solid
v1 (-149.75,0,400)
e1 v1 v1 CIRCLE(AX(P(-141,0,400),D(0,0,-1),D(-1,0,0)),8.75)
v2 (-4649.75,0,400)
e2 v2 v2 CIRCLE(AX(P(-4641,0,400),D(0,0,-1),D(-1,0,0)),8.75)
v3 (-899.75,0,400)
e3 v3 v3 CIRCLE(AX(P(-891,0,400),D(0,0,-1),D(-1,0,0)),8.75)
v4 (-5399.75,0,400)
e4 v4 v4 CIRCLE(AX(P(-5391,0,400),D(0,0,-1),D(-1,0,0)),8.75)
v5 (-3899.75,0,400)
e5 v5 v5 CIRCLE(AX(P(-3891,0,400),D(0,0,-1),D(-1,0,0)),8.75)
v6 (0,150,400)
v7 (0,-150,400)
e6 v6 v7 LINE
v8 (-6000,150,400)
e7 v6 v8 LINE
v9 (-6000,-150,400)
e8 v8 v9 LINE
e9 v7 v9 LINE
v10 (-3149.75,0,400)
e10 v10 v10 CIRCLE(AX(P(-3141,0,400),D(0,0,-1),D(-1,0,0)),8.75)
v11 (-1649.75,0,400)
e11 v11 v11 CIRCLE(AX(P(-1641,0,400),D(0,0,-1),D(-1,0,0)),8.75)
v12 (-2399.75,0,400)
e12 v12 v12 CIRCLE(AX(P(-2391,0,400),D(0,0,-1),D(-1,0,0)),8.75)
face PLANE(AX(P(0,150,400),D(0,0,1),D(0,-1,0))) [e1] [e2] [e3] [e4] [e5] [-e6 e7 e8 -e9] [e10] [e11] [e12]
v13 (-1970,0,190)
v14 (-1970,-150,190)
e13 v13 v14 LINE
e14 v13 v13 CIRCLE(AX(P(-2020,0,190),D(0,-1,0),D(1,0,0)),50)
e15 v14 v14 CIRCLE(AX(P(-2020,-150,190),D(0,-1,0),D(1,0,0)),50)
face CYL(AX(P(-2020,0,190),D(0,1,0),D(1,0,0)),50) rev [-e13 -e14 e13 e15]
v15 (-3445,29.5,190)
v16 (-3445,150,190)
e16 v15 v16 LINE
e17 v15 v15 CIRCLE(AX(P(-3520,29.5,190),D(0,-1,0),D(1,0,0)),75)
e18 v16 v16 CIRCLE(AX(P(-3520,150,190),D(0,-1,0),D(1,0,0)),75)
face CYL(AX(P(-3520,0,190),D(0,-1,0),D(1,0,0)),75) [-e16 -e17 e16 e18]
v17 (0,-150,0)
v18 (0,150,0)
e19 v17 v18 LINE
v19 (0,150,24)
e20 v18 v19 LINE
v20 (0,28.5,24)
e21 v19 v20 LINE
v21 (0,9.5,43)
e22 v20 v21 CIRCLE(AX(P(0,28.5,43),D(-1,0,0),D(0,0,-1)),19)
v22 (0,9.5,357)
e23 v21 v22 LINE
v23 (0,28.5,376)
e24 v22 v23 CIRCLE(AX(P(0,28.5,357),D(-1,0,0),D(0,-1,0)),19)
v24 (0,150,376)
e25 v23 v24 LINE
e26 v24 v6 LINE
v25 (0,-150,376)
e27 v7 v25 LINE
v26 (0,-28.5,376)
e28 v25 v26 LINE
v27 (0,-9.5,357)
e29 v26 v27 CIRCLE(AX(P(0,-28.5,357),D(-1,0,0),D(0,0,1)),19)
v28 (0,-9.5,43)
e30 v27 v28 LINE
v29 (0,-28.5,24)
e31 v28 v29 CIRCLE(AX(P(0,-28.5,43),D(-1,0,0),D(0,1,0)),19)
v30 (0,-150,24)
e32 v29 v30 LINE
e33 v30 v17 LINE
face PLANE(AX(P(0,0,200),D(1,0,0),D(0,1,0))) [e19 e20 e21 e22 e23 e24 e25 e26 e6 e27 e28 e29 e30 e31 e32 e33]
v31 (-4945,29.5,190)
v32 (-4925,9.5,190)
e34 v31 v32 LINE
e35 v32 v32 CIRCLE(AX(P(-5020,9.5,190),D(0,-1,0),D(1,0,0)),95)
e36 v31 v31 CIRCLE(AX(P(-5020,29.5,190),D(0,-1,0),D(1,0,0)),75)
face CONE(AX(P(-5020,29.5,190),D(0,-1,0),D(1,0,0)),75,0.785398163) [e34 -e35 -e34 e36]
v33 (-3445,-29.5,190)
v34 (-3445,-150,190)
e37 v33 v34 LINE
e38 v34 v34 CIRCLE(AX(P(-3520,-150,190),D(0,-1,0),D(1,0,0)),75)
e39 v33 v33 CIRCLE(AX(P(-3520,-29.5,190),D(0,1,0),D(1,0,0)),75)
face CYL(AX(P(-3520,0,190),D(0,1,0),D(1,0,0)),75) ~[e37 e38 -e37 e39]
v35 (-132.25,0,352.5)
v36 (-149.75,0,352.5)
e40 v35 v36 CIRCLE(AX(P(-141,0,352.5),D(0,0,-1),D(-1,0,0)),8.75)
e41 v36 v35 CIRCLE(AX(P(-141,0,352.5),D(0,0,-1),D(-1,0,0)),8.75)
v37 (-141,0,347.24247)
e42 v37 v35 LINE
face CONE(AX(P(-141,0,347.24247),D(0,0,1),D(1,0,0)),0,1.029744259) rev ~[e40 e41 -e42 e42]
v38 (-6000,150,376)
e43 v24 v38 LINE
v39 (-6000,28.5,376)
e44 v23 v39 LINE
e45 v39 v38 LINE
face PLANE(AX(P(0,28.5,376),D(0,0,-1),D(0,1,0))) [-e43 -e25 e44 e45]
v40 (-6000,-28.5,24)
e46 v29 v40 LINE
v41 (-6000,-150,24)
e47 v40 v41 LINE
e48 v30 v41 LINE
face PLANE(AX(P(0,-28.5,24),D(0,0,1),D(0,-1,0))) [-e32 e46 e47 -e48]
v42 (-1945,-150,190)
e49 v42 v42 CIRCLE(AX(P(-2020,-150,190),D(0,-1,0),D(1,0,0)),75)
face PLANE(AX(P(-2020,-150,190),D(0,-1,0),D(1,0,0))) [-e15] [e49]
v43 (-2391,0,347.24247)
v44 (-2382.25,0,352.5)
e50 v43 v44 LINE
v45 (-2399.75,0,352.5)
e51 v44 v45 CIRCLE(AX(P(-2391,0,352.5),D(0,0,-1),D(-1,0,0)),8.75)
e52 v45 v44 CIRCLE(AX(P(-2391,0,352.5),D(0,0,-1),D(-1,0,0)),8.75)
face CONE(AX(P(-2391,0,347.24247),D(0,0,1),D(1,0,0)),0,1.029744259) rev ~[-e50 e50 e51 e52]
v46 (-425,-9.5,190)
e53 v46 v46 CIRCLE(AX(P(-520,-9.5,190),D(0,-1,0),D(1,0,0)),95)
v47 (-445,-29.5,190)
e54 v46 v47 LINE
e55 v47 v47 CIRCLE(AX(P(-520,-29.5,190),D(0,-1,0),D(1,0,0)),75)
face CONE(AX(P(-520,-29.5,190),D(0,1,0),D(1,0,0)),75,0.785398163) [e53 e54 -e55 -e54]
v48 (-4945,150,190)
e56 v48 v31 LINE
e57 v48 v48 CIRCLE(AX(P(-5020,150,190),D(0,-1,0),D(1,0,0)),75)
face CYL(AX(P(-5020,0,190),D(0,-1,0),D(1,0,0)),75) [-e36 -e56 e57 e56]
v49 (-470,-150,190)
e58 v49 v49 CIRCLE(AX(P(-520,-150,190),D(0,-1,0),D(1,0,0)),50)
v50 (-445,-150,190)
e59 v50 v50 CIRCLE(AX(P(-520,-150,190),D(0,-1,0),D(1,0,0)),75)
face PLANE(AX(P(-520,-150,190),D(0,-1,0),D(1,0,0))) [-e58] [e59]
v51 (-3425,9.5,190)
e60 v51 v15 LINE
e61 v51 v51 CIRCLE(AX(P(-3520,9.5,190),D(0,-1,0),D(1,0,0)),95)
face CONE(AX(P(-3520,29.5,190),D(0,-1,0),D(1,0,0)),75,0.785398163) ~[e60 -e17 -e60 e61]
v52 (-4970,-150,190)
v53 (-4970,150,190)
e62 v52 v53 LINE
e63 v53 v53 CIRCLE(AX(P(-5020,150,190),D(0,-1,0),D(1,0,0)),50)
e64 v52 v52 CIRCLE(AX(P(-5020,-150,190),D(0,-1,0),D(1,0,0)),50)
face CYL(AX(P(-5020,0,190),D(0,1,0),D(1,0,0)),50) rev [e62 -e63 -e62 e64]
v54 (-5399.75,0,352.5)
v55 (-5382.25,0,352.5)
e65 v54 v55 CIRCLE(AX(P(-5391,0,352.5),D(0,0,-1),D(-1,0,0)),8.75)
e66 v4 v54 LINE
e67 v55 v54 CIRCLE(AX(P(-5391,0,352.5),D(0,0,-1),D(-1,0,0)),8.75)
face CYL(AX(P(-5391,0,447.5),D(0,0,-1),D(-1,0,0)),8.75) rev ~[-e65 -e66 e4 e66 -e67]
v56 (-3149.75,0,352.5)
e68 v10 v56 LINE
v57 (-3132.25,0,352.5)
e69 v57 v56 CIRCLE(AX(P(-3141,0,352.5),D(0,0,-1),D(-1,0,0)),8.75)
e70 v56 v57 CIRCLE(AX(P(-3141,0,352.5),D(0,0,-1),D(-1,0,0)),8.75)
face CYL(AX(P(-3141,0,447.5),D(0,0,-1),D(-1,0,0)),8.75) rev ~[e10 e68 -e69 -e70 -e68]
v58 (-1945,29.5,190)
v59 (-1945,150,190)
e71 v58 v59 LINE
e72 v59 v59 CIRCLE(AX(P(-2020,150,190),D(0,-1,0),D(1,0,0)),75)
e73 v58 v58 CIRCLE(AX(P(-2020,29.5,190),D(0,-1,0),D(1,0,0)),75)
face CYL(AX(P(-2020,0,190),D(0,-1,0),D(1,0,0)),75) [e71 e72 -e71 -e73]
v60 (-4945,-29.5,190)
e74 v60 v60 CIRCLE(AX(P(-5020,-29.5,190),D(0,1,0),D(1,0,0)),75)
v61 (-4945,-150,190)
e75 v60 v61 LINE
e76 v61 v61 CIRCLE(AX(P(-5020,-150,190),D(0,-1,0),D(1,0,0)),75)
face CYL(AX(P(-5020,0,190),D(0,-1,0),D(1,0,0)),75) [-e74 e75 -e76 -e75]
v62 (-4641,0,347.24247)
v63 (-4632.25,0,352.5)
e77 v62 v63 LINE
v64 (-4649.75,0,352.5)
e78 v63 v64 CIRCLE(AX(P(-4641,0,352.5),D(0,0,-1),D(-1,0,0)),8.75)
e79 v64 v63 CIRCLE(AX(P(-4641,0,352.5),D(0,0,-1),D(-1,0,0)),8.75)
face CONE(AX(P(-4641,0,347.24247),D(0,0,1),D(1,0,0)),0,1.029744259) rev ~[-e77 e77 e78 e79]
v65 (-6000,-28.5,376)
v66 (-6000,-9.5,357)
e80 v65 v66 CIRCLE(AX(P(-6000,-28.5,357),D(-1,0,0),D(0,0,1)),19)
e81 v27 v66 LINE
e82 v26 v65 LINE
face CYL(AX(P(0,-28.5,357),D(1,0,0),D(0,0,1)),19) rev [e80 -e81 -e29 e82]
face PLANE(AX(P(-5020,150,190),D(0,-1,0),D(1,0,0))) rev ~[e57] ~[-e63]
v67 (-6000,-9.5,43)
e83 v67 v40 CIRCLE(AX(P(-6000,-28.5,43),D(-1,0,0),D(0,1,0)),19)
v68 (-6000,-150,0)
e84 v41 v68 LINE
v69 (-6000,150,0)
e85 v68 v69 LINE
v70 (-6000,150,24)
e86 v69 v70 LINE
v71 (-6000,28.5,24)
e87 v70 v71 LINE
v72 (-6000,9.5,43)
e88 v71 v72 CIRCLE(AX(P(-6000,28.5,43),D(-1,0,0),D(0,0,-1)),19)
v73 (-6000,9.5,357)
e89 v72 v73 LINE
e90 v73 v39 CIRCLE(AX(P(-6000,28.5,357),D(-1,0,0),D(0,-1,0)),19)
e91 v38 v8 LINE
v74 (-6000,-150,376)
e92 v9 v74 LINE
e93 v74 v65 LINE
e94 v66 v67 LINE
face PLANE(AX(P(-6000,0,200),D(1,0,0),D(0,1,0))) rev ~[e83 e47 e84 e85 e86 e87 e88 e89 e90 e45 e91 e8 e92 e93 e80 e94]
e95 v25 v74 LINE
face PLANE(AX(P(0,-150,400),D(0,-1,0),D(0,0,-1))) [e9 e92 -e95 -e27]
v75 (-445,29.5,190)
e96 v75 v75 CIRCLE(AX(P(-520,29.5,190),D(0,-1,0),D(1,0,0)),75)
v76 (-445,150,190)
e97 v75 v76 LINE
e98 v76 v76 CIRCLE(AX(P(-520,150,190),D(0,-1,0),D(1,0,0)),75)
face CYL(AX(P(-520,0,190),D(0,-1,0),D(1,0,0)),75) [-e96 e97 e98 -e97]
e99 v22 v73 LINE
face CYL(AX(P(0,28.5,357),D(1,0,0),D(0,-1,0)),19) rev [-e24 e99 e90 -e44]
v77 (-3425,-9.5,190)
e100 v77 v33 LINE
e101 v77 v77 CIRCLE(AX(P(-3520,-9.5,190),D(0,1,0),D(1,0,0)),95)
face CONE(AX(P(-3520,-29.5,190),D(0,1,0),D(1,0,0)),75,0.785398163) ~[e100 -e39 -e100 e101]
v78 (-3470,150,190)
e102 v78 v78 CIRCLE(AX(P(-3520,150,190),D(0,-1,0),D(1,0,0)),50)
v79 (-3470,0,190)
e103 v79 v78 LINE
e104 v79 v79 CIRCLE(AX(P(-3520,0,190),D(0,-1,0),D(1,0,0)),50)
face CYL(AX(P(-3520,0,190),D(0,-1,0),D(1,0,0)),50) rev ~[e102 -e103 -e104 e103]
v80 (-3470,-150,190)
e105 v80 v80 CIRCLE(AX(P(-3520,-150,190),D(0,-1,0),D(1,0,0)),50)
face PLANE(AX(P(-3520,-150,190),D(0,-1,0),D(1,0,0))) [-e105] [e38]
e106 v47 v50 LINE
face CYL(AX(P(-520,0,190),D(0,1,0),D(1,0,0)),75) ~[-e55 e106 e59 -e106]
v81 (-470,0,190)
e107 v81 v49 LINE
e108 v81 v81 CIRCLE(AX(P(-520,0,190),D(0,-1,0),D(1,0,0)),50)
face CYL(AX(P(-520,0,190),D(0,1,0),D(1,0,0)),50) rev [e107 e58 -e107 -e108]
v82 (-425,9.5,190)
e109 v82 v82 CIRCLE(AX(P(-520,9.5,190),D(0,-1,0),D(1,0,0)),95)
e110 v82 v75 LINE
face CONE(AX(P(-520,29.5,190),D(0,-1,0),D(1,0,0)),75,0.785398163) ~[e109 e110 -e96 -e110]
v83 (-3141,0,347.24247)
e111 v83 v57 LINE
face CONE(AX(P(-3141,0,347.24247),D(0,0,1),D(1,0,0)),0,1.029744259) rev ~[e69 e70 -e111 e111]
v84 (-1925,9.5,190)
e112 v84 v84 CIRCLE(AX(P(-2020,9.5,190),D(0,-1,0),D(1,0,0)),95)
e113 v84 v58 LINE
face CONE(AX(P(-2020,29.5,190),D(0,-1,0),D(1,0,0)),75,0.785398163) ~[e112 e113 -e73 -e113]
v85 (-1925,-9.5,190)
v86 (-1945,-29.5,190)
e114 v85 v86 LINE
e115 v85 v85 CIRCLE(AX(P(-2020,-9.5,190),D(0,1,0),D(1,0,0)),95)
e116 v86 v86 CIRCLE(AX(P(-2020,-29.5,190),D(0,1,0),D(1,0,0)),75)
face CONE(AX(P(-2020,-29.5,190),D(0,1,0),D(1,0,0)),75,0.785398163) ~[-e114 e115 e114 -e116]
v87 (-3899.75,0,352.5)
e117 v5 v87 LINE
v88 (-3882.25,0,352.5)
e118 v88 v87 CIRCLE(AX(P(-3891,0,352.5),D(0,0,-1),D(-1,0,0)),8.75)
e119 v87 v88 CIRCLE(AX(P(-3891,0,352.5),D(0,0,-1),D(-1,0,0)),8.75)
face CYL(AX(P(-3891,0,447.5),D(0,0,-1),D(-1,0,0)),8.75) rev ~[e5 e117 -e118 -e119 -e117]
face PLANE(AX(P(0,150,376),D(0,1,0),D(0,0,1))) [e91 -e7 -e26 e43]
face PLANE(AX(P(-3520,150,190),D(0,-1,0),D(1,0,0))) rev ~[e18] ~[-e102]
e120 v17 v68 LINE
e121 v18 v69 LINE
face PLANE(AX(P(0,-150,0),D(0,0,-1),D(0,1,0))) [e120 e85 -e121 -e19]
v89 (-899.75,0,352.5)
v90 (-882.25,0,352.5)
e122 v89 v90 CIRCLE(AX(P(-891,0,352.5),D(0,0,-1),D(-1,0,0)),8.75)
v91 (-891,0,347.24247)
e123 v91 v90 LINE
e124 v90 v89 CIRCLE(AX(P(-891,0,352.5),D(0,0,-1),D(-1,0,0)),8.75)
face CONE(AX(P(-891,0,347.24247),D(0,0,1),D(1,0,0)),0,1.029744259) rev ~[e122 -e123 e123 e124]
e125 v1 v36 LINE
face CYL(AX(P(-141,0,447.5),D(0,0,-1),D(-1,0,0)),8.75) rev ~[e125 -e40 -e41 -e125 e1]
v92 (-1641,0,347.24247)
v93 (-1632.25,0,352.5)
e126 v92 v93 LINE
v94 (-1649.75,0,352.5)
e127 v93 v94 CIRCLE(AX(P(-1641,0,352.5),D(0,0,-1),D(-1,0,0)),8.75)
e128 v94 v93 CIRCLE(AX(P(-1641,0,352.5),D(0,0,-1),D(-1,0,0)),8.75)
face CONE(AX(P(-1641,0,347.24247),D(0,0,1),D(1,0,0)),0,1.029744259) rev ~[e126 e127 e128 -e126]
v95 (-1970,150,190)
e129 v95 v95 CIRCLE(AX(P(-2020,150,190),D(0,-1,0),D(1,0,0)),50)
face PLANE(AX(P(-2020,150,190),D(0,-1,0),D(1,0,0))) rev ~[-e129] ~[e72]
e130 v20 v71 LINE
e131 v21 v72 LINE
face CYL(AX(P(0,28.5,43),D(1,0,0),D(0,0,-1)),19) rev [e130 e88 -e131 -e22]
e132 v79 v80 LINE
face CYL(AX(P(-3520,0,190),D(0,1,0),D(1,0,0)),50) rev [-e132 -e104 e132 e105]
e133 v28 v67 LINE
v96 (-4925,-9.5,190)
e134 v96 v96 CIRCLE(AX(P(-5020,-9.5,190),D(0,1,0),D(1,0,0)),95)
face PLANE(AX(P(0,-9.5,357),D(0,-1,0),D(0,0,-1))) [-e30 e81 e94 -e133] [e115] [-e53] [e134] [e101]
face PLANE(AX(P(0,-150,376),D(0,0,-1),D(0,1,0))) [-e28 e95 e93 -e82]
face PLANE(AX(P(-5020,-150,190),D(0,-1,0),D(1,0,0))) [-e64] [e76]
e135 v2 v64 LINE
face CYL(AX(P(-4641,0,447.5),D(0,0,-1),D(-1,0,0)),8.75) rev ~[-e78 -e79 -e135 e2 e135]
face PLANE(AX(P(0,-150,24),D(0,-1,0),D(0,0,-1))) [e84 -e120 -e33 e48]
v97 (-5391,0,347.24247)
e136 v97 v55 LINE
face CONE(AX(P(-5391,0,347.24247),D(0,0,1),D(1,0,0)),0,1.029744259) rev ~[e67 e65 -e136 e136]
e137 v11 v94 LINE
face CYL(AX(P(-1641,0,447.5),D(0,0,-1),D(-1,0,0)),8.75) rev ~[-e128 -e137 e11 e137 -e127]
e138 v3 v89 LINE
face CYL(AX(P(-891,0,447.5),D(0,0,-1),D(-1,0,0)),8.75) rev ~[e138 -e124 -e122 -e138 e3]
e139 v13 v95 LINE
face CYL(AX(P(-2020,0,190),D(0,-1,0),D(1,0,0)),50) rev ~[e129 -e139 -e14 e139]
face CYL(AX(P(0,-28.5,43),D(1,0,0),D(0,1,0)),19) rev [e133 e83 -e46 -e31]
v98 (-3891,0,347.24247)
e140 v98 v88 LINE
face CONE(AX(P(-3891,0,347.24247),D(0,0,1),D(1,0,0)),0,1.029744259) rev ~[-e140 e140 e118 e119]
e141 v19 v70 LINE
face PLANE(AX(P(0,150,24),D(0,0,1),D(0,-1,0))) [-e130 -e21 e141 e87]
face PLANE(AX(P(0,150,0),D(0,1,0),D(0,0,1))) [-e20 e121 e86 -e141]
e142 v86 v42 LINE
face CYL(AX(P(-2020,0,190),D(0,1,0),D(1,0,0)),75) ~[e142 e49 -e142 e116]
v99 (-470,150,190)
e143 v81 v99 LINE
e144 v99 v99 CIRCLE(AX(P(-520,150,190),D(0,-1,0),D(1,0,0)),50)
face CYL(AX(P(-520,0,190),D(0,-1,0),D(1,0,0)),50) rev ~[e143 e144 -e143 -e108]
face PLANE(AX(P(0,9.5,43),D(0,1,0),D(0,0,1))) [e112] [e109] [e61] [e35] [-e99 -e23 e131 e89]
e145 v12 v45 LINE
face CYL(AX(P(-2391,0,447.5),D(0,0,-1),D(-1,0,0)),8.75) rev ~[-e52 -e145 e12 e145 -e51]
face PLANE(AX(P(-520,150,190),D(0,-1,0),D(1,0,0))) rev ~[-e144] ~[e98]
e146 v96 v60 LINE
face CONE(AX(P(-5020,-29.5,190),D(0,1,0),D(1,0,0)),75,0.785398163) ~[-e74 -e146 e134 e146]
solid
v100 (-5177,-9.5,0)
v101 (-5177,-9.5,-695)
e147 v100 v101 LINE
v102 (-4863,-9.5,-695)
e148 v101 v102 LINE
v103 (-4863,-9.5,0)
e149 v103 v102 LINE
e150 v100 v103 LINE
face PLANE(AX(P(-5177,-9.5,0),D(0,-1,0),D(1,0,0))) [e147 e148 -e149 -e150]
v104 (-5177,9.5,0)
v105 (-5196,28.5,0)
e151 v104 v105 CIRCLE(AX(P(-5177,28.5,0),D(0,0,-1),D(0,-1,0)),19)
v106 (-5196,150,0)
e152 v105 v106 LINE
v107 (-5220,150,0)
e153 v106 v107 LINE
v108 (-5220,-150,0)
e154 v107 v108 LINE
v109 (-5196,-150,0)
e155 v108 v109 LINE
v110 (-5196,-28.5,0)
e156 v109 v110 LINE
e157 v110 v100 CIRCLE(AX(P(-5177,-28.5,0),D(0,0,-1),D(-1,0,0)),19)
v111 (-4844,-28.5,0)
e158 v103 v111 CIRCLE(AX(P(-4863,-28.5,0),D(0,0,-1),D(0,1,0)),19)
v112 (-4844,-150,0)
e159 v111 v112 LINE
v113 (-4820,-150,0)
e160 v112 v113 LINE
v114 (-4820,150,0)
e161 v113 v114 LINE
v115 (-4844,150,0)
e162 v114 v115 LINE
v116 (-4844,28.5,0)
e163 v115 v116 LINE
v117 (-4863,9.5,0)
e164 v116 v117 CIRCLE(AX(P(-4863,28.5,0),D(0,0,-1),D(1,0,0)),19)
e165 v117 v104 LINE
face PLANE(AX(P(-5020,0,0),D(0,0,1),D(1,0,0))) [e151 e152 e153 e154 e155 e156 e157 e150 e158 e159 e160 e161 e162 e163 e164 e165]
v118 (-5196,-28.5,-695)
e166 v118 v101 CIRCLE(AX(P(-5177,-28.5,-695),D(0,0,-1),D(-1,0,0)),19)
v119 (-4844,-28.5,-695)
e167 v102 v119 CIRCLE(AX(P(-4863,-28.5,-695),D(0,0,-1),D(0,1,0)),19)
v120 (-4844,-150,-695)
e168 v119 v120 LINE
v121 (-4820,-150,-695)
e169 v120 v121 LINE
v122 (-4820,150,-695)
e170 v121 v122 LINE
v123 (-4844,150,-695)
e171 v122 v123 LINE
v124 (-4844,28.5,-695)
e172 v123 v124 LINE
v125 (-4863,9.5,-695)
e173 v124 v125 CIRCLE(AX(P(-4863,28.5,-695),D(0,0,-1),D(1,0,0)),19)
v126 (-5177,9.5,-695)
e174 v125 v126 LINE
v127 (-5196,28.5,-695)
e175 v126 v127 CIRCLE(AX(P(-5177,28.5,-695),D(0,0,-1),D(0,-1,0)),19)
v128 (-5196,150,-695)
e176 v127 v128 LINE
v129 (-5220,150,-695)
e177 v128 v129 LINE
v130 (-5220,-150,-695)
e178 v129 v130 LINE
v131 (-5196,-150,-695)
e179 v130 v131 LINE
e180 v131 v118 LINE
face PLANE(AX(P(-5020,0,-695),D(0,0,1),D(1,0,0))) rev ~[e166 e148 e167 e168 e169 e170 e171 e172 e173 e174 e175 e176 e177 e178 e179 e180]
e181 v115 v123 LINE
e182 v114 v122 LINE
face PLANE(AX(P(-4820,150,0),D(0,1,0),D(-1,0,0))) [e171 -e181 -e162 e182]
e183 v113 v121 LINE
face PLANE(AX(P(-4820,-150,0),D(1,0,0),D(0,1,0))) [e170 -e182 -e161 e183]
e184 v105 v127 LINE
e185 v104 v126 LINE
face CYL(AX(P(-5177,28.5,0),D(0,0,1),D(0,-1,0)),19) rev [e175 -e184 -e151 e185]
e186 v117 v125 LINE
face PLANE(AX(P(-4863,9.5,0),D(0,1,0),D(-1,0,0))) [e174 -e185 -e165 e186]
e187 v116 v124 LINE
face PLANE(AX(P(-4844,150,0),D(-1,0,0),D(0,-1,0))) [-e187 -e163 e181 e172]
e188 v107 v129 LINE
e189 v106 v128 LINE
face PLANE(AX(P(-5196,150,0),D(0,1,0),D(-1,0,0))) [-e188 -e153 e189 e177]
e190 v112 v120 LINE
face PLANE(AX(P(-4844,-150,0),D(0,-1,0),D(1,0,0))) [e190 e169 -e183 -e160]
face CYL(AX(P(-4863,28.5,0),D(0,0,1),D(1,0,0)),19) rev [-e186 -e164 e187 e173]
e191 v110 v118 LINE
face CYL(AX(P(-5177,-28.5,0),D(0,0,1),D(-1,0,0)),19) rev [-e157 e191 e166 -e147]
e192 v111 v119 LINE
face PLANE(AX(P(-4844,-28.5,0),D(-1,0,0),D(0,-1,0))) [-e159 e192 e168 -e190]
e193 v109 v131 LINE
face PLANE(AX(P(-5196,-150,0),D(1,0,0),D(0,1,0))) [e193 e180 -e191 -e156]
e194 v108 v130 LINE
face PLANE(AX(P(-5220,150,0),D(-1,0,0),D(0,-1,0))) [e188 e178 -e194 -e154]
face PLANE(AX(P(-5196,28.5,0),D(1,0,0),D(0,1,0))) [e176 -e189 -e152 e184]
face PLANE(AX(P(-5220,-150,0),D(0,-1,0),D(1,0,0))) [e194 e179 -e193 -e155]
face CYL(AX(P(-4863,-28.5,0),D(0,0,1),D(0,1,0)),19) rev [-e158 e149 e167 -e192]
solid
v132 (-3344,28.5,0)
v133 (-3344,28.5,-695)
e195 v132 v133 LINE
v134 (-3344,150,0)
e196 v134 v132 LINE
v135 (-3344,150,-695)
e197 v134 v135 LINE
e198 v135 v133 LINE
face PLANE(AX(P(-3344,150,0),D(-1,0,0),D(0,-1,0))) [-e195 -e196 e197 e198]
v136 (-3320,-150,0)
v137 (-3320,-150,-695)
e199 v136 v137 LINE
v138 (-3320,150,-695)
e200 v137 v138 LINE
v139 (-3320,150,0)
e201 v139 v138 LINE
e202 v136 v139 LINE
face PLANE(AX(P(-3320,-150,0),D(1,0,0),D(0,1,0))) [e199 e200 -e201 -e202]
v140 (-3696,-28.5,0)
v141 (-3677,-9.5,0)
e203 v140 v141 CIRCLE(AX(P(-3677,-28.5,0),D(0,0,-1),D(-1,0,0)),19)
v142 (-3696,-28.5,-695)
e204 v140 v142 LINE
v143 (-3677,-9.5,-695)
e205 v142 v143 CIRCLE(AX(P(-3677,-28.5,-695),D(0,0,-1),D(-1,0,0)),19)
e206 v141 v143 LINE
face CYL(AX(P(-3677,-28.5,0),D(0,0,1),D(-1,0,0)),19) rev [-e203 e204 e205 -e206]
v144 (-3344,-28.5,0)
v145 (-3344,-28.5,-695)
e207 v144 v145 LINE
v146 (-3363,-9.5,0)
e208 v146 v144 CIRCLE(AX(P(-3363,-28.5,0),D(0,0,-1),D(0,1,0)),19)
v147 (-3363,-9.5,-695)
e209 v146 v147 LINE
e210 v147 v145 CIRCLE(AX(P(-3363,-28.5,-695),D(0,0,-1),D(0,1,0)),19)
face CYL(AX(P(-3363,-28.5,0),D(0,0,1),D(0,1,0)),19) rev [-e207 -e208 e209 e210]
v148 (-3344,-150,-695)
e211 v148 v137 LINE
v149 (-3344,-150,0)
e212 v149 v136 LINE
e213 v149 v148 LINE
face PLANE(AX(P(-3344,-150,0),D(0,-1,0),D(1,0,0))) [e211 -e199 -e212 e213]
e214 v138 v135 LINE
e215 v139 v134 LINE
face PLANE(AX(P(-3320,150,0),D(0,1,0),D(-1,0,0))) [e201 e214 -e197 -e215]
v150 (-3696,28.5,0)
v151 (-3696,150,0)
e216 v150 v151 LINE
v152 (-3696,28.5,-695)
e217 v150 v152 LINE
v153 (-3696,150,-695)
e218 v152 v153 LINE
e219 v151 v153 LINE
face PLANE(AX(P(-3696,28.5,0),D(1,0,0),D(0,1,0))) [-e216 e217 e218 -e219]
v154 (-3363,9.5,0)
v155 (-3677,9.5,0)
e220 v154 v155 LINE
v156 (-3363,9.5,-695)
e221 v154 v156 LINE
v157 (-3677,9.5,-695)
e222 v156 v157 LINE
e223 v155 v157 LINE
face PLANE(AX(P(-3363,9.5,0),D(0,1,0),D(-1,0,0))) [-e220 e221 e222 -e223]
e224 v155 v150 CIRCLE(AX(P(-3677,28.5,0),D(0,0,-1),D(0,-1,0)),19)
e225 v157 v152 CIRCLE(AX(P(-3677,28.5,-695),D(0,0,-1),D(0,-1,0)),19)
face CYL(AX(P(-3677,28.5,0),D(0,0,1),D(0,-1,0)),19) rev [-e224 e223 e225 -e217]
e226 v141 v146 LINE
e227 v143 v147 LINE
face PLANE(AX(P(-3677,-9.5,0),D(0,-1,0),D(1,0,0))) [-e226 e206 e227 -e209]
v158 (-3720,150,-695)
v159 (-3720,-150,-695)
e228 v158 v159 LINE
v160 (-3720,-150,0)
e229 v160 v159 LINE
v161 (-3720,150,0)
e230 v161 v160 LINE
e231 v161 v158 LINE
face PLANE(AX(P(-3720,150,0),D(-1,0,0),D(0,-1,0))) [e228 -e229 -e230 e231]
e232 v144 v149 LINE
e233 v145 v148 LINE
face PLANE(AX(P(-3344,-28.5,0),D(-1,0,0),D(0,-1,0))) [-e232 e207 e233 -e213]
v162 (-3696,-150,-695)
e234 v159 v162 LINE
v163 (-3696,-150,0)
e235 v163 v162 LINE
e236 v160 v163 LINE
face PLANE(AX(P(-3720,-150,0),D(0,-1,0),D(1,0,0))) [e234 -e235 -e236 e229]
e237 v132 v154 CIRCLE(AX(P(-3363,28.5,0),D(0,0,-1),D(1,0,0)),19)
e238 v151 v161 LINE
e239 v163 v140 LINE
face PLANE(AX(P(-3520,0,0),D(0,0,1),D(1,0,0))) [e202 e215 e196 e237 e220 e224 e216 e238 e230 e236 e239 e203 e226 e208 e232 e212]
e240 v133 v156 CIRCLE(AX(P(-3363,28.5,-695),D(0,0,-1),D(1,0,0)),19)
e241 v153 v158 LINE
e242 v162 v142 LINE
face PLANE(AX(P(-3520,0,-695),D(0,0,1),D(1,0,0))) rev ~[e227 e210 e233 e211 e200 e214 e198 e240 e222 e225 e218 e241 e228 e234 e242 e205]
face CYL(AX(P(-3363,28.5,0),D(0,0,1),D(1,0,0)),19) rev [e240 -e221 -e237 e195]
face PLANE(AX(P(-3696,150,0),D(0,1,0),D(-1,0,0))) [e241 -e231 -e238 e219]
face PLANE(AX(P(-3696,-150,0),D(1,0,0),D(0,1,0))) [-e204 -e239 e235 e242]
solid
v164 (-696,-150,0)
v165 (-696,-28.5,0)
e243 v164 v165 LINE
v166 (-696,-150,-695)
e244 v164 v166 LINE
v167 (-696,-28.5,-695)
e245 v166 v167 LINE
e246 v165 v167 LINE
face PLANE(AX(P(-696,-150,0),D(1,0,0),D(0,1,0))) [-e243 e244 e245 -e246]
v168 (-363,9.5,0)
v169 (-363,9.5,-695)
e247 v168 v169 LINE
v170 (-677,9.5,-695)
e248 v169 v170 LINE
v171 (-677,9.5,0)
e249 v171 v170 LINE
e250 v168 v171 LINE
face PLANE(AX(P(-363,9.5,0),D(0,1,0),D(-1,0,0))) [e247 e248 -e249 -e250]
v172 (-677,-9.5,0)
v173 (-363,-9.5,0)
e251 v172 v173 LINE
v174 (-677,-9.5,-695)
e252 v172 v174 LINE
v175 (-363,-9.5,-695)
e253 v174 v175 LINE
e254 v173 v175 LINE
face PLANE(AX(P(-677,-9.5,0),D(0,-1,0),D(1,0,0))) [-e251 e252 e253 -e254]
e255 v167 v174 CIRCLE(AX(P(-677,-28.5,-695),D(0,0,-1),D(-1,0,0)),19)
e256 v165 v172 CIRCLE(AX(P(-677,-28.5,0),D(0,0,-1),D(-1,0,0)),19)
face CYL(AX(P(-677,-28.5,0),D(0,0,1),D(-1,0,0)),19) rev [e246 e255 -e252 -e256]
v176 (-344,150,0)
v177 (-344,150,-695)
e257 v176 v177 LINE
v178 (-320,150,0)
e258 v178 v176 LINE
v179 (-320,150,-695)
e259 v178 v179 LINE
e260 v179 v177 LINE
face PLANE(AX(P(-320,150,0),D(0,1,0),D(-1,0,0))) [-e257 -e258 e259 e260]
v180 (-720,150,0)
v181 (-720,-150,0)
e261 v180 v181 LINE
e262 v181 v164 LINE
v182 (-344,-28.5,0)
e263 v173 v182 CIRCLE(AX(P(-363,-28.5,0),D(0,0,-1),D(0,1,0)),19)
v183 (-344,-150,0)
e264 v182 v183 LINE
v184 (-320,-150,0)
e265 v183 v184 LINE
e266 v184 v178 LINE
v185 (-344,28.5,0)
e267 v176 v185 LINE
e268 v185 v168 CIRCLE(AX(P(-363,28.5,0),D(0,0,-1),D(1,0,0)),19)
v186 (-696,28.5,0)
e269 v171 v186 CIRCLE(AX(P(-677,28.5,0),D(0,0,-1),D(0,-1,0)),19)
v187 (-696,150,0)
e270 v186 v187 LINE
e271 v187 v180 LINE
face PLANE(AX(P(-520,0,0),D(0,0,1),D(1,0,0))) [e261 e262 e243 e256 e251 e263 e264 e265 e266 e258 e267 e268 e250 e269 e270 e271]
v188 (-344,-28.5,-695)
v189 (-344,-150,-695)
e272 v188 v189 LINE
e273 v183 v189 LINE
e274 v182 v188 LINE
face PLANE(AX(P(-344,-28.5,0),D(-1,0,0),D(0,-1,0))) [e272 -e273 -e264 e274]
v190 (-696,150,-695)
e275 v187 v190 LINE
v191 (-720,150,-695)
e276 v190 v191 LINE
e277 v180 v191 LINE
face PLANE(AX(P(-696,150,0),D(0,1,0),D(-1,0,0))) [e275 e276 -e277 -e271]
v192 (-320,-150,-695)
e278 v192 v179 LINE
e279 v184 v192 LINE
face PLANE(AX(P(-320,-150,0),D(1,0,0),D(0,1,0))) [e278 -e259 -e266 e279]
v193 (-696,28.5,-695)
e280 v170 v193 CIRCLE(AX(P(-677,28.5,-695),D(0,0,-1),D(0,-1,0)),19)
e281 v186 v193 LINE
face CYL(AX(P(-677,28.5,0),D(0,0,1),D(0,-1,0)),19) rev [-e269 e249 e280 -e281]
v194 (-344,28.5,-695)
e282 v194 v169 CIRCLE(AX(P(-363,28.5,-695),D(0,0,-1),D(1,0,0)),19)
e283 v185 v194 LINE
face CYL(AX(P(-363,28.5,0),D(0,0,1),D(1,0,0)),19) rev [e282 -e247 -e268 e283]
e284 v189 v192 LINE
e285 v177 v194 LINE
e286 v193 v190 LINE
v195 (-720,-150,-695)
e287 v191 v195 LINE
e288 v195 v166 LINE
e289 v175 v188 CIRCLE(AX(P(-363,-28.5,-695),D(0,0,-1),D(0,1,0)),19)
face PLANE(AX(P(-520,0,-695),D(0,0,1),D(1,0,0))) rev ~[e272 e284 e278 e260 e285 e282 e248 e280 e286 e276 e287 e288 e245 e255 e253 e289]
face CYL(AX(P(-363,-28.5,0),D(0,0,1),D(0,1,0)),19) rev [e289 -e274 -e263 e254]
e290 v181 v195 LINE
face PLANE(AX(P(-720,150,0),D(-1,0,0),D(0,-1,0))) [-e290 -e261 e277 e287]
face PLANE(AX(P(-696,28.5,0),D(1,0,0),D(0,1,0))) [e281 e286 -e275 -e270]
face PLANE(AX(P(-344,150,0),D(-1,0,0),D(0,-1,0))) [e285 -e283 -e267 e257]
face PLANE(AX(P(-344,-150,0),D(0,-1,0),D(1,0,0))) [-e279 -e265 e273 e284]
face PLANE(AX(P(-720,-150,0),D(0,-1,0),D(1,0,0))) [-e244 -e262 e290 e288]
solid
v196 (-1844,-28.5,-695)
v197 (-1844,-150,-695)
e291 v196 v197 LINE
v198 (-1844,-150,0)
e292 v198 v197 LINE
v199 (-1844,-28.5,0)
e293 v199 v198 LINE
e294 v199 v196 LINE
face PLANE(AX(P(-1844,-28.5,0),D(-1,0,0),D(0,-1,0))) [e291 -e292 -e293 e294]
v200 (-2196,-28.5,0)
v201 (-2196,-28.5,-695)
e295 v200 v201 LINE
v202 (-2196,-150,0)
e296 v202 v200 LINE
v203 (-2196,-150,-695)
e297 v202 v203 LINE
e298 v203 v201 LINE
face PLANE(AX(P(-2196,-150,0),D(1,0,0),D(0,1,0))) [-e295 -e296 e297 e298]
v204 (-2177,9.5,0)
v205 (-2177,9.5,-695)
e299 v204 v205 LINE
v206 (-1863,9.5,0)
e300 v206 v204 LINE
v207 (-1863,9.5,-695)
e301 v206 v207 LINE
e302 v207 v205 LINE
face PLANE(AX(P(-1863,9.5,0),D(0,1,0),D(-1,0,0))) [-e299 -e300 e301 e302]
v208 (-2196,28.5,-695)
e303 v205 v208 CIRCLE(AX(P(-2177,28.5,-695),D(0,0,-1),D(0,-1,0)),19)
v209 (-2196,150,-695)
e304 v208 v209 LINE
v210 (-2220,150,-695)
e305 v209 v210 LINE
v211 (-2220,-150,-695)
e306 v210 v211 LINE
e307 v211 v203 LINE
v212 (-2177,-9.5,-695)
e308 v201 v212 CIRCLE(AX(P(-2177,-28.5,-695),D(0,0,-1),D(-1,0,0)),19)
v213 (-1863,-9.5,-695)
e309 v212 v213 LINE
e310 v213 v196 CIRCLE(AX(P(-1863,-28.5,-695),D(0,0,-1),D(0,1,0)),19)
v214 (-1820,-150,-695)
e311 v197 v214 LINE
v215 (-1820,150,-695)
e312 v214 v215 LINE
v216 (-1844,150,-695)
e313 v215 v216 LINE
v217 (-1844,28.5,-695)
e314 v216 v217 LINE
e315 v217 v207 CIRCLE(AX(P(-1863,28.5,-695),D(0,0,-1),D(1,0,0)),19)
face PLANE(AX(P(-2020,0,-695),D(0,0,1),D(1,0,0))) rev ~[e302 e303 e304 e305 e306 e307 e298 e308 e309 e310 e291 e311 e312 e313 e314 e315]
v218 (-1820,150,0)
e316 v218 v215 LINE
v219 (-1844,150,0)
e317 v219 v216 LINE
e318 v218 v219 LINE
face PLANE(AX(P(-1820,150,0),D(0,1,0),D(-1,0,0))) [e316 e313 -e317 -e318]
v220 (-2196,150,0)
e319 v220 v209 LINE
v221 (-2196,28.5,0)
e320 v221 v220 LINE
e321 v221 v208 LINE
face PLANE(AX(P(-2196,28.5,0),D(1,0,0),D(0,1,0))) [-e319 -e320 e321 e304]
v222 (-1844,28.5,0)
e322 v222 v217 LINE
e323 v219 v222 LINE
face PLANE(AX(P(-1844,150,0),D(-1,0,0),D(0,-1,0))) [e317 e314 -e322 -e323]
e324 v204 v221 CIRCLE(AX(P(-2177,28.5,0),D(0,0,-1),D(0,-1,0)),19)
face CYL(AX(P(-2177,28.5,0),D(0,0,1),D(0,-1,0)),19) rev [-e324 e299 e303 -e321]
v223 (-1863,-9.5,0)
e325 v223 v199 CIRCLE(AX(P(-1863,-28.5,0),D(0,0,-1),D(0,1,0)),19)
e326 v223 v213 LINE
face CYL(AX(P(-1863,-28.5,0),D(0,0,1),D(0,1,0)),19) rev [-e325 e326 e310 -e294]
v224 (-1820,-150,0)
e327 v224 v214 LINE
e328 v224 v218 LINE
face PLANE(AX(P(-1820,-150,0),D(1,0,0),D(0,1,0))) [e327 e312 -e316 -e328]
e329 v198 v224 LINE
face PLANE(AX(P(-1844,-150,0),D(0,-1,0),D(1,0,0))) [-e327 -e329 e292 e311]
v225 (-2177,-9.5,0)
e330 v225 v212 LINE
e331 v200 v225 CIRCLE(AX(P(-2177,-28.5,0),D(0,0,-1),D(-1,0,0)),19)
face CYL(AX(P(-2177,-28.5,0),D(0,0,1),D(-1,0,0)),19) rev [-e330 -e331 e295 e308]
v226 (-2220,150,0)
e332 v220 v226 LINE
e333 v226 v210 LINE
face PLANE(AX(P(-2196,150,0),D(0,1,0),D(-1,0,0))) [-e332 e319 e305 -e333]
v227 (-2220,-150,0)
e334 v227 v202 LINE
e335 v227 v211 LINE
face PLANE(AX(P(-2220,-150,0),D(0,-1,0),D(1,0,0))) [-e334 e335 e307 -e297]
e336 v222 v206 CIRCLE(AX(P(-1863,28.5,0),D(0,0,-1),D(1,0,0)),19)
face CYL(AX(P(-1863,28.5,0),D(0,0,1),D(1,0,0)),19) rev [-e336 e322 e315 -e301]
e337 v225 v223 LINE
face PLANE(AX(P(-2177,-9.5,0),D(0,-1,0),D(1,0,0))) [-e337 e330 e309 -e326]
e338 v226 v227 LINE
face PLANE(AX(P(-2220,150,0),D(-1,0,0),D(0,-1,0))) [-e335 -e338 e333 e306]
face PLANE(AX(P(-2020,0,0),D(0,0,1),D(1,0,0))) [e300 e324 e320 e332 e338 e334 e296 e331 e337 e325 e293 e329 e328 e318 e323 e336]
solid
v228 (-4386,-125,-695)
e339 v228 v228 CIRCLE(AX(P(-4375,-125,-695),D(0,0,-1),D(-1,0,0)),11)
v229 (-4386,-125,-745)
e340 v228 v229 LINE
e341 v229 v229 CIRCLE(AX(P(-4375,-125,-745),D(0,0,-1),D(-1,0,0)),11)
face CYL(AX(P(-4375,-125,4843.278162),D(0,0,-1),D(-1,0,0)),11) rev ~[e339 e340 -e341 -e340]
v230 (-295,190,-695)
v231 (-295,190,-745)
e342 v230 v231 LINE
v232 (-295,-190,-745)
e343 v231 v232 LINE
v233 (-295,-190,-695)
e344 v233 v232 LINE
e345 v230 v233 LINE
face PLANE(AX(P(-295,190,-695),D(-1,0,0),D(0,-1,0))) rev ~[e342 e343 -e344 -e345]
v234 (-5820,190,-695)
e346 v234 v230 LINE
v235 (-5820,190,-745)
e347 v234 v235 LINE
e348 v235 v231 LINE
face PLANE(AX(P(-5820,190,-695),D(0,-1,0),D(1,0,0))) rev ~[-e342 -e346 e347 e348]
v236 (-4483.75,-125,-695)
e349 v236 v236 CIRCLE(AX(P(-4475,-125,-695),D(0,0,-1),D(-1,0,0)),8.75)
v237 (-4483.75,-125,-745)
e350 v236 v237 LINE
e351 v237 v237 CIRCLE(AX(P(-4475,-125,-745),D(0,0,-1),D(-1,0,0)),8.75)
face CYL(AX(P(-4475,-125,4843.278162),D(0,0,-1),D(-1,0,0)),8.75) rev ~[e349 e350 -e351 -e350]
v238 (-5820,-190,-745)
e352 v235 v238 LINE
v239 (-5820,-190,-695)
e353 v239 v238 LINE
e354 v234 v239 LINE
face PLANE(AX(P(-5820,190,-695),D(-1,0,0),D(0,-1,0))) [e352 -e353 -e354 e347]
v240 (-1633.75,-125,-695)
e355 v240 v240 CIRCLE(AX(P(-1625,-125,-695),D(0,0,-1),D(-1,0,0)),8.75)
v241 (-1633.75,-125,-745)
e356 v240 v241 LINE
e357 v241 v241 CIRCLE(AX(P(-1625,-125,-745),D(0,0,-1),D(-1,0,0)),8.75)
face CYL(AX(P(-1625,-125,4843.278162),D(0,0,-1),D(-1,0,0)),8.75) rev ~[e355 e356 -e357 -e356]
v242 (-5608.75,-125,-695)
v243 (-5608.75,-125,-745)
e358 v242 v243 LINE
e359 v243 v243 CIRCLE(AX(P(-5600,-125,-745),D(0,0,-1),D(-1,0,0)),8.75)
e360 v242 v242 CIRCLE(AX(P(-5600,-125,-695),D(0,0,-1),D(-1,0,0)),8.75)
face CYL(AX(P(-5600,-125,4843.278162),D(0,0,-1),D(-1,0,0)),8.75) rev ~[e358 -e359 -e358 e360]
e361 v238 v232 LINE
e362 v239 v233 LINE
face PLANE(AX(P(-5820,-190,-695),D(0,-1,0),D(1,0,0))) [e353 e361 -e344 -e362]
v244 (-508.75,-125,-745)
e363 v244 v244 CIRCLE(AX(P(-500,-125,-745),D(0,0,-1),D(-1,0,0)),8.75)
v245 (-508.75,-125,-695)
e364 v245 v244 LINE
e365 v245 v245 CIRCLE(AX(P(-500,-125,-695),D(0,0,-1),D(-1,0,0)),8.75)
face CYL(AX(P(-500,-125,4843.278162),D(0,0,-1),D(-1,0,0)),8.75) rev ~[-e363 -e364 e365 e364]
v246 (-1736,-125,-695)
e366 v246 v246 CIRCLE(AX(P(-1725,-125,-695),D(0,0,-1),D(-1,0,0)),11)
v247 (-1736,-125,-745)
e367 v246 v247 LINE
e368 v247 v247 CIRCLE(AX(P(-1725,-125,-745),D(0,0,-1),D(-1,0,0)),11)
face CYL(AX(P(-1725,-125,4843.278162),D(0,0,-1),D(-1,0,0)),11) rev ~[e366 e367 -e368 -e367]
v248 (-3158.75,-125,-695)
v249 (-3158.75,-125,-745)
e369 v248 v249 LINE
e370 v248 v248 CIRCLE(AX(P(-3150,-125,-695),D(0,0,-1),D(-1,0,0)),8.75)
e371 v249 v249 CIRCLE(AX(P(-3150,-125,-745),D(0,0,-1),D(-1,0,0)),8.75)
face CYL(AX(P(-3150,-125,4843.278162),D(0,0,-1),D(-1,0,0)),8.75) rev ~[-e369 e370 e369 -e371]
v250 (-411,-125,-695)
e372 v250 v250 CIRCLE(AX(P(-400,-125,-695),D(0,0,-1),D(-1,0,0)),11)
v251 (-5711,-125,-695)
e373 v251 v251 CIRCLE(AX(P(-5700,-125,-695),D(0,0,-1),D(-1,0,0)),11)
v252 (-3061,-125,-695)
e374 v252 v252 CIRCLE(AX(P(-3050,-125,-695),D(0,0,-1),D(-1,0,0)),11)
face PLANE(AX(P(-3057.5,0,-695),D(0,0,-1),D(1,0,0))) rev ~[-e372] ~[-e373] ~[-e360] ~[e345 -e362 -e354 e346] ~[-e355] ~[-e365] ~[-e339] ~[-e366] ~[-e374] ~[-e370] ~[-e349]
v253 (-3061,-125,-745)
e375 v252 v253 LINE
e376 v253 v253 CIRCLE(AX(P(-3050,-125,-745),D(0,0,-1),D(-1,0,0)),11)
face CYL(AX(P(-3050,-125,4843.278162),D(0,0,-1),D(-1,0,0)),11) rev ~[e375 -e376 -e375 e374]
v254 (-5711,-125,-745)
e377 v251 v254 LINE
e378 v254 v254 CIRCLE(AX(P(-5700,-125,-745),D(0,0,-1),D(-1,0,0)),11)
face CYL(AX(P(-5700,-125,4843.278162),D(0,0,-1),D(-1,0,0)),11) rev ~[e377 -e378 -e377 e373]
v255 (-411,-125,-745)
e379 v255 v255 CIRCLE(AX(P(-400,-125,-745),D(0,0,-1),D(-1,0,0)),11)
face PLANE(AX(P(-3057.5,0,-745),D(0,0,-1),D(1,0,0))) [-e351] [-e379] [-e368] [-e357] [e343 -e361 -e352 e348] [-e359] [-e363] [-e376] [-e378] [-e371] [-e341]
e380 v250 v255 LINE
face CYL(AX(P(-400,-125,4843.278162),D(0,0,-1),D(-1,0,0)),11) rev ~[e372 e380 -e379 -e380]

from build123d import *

# Parameters (mm, degrees)
F1_DEPTH  = 6000
F2_R      = 75
F2_R_2    = 50
F3_DEPTH  = 25
F4_DEPTH  = 150
F6_DEPTH  = 695
F7_W      = 5525
F7_H      = 380
F8_DEPTH  = 50
F9_SIZE   = 20
F11_D     = 17.5
F11_DEPTH = 47.5
F11_TIP   = 5.2575304165
F13_D     = 22
F14_D     = 17.5


with BuildPart() as f1:
    # F0 (on Right) → F1 (new body)
    with BuildSketch(Plane.YZ):
        with BuildLine():
            Line((-150, 0), (0, 0))
            Line((0, 0), (150, 0))
            Line((150, 0), (150, 24))
            Line((150, 24), (28.5, 24))
            ThreePointArc((28.5, 24), (15.0649711575, 29.5649711575), (9.5, 43))
            Line((9.5, 43), (9.5, 357))
            ThreePointArc((9.5, 357), (15.0649711575, 370.4350288425), (28.5, 376))
            Line((28.5, 376), (150, 376))
            Line((150, 376), (150, 400))
            Line((150, 400), (0, 400))
            Line((0, 400), (-150, 400))
            Line((-150, 400), (-150, 376))
            Line((-150, 376), (-28.5, 376))
            ThreePointArc((-28.5, 376), (-15.0649711575, 370.4350288425), (-9.5, 357))
            Line((-9.5, 357), (-9.5, 43))
            ThreePointArc((-9.5, 43), (-15.0649711575, 29.5649711575), (-28.5, 24))
            Line((-28.5, 24), (-150, 24))
            Line((-150, 24), (-150, 0))
        make_face()
    extrude(amount=-F1_DEPTH)

    # F2 (on Front) → F3 (cut, symmetric)
    with BuildSketch(Plane.XZ):
        with Locations((-5020, 190)):
            Circle(F2_R)
        with Locations((-5020, 190)):
            Circle(F2_R_2, mode=Mode.SUBTRACT)
        with Locations((-3520, 190)):
            Circle(F2_R)
        with Locations((-3520, 190)):
            Circle(F2_R_2, mode=Mode.SUBTRACT)
        with Locations((-2020, 190)):
            Circle(F2_R)
        with Locations((-2020, 190)):
            Circle(F2_R_2, mode=Mode.SUBTRACT)
        with Locations((-520, 190)):
            Circle(F2_R)
        with Locations((-520, 190)):
            Circle(F2_R_2, mode=Mode.SUBTRACT)
        with Locations((-5020, 190)):
            Circle(F2_R_2)
        with Locations((-3520, 190)):
            Circle(F2_R_2)
        with Locations((-2020, 190)):
            Circle(F2_R_2)
        with Locations((-520, 190)):
            Circle(F2_R_2)
    extrude(amount=F3_DEPTH, both=True, mode=Mode.SUBTRACT)

    # F2 (on Front) → F4 (join, symmetric)
    with BuildSketch(Plane.XZ):
        with Locations((-520, 190)):
            Circle(F2_R)
        with Locations((-520, 190)):
            Circle(F2_R_2, mode=Mode.SUBTRACT)
        with Locations((-2020, 190)):
            Circle(F2_R)
        with Locations((-2020, 190)):
            Circle(F2_R_2, mode=Mode.SUBTRACT)
        with Locations((-3520, 190)):
            Circle(F2_R)
        with Locations((-3520, 190)):
            Circle(F2_R_2, mode=Mode.SUBTRACT)
        with Locations((-5020, 190)):
            Circle(F2_R)
        with Locations((-5020, 190)):
            Circle(F2_R_2, mode=Mode.SUBTRACT)
    extrude(amount=F4_DEPTH, both=True)

    # F9
    f9_edges = [f1.edges().sort_by_distance(p)[0] for p in [
        (-5095, -9.5, 190),
        (-3595, -9.5, 190),
        (-2095, -9.5, 190),
        (-595, -9.5, 190),
        (-595, 9.5, 190),
        (-2095, 9.5, 190),
        (-3595, 9.5, 190),
        (-5095, 9.5, 190),
    ]]
    chamfer(f9_edges, length=F9_SIZE)

    # F11
    with Locations(Plane.XY.offset(400)):
        with Locations((-141, 0), (-891, 0), (-1641, 0), (-2391, 0), (-3141, 0), (-3891, 0), (-4641, 0), (-5391, 0)):
            Hole(F11_D / 2, depth=F11_DEPTH)
            with Locations((0, 0, -(F11_DEPTH + F11_TIP / 2))):  # 118° drill point
                Cone(0, F11_D / 2, F11_TIP, mode=Mode.SUBTRACT)


with BuildPart() as f6:
    # F5 (on Top) → F6 (new body)
    with BuildSketch(Plane.XY):
        with BuildLine():
            Line((-320, -150), (-320, 0))
            Line((-320, 0), (-320, 150))
            Line((-320, 150), (-344, 150))
            Line((-344, 150), (-344, 28.5))
            ThreePointArc((-344, 28.5), (-349.5649711575, 15.0649711575), (-363, 9.5))
            Line((-363, 9.5), (-677, 9.5))
            ThreePointArc((-677, 9.5), (-690.4350288425, 15.0649711575), (-696, 28.5))
            Line((-696, 28.5), (-696, 150))
            Line((-696, 150), (-720, 150))
            Line((-720, 150), (-720, 0))
            Line((-720, 0), (-720, -150))
            Line((-720, -150), (-696, -150))
            Line((-696, -150), (-696, -28.5))
            ThreePointArc((-696, -28.5), (-690.4350288425, -15.0649711575), (-677, -9.5))
            Line((-677, -9.5), (-363, -9.5))
            ThreePointArc((-363, -9.5), (-349.5649711575, -15.0649711575), (-344, -28.5))
            Line((-344, -28.5), (-344, -150))
            Line((-344, -150), (-320, -150))
        make_face()
    extrude(amount=-F6_DEPTH)


with BuildPart() as f6b:
    # F5 (on Top) → F6, piece 2 (new body)
    with BuildSketch(Plane.XY):
        with BuildLine():
            Line((-1820, -150), (-1820, 0))
            Line((-1820, 0), (-1820, 150))
            Line((-1820, 150), (-1844, 150))
            Line((-1844, 150), (-1844, 28.5))
            ThreePointArc((-1844, 28.5), (-1849.5649711575, 15.0649711575), (-1863, 9.5))
            Line((-1863, 9.5), (-2177, 9.5))
            ThreePointArc((-2177, 9.5), (-2190.4350288425, 15.0649711575), (-2196, 28.5))
            Line((-2196, 28.5), (-2196, 150))
            Line((-2196, 150), (-2220, 150))
            Line((-2220, 150), (-2220, 0))
            Line((-2220, 0), (-2220, -150))
            Line((-2220, -150), (-2196, -150))
            Line((-2196, -150), (-2196, -28.5))
            ThreePointArc((-2196, -28.5), (-2190.4350288425, -15.0649711575), (-2177, -9.5))
            Line((-2177, -9.5), (-1863, -9.5))
            ThreePointArc((-1863, -9.5), (-1849.5649711575, -15.0649711575), (-1844, -28.5))
            Line((-1844, -28.5), (-1844, -150))
            Line((-1844, -150), (-1820, -150))
        make_face()
    extrude(amount=-F6_DEPTH)


with BuildPart() as f6c:
    # F5 (on Top) → F6, piece 3 (new body)
    with BuildSketch(Plane.XY):
        with BuildLine():
            Line((-3320, -150), (-3320, 0))
            Line((-3320, 0), (-3320, 150))
            Line((-3320, 150), (-3344, 150))
            Line((-3344, 150), (-3344, 28.5))
            ThreePointArc((-3344, 28.5), (-3349.5649711575, 15.0649711575), (-3363, 9.5))
            Line((-3363, 9.5), (-3677, 9.5))
            ThreePointArc((-3677, 9.5), (-3690.4350288425, 15.0649711575), (-3696, 28.5))
            Line((-3696, 28.5), (-3696, 150))
            Line((-3696, 150), (-3720, 150))
            Line((-3720, 150), (-3720, 0))
            Line((-3720, 0), (-3720, -150))
            Line((-3720, -150), (-3696, -150))
            Line((-3696, -150), (-3696, -28.5))
            ThreePointArc((-3696, -28.5), (-3690.4350288425, -15.0649711575), (-3677, -9.5))
            Line((-3677, -9.5), (-3363, -9.5))
            ThreePointArc((-3363, -9.5), (-3349.5649711575, -15.0649711575), (-3344, -28.5))
            Line((-3344, -28.5), (-3344, -150))
            Line((-3344, -150), (-3320, -150))
        make_face()
    extrude(amount=-F6_DEPTH)


with BuildPart() as f6d:
    # F5 (on Top) → F6, piece 4 (new body)
    with BuildSketch(Plane.XY):
        with BuildLine():
            Line((-4820, -150), (-4820, 0))
            Line((-4820, 0), (-4820, 150))
            Line((-4820, 150), (-4844, 150))
            Line((-4844, 150), (-4844, 28.5))
            ThreePointArc((-4844, 28.5), (-4849.5649711575, 15.0649711575), (-4863, 9.5))
            Line((-4863, 9.5), (-5177, 9.5))
            ThreePointArc((-5177, 9.5), (-5190.4350288425, 15.0649711575), (-5196, 28.5))
            Line((-5196, 28.5), (-5196, 150))
            Line((-5196, 150), (-5220, 150))
            Line((-5220, 150), (-5220, 0))
            Line((-5220, 0), (-5220, -150))
            Line((-5220, -150), (-5196, -150))
            Line((-5196, -150), (-5196, -28.5))
            ThreePointArc((-5196, -28.5), (-5190.4350288425, -15.0649711575), (-5177, -9.5))
            Line((-5177, -9.5), (-4863, -9.5))
            ThreePointArc((-4863, -9.5), (-4849.5649711575, -15.0649711575), (-4844, -28.5))
            Line((-4844, -28.5), (-4844, -150))
            Line((-4844, -150), (-4820, -150))
        make_face()
    extrude(amount=-F6_DEPTH)


with BuildPart() as f8:
    # F7 (on face) → F8 (new body)
    with BuildSketch(Plane(origin=(0, 0, -695), x_dir=(1, 0, 0), z_dir=(0, 0, -1))):
        with Locations((-3057.5, 0)):
            Rectangle(F7_W, F7_H)
    extrude(amount=F8_DEPTH)

    # F13 (through all)
    with Locations(Plane.XY.offset(-695)):
        with Locations((-400, -125), (-1725, -125), (-3050, -125), (-4375, -125), (-5700, -125)):
            Hole(F13_D / 2)

    # F14 (through all)
    with Locations(Plane.XY.offset(-695)):
        with Locations((-500, -125), (-1625, -125), (-3150, -125), (-4475, -125), (-5600, -125)):
            Hole(F14_D / 2)


solid = Compound([f1.part, f6.part, f6b.part, f6c.part, f6d.part, f8.part])
